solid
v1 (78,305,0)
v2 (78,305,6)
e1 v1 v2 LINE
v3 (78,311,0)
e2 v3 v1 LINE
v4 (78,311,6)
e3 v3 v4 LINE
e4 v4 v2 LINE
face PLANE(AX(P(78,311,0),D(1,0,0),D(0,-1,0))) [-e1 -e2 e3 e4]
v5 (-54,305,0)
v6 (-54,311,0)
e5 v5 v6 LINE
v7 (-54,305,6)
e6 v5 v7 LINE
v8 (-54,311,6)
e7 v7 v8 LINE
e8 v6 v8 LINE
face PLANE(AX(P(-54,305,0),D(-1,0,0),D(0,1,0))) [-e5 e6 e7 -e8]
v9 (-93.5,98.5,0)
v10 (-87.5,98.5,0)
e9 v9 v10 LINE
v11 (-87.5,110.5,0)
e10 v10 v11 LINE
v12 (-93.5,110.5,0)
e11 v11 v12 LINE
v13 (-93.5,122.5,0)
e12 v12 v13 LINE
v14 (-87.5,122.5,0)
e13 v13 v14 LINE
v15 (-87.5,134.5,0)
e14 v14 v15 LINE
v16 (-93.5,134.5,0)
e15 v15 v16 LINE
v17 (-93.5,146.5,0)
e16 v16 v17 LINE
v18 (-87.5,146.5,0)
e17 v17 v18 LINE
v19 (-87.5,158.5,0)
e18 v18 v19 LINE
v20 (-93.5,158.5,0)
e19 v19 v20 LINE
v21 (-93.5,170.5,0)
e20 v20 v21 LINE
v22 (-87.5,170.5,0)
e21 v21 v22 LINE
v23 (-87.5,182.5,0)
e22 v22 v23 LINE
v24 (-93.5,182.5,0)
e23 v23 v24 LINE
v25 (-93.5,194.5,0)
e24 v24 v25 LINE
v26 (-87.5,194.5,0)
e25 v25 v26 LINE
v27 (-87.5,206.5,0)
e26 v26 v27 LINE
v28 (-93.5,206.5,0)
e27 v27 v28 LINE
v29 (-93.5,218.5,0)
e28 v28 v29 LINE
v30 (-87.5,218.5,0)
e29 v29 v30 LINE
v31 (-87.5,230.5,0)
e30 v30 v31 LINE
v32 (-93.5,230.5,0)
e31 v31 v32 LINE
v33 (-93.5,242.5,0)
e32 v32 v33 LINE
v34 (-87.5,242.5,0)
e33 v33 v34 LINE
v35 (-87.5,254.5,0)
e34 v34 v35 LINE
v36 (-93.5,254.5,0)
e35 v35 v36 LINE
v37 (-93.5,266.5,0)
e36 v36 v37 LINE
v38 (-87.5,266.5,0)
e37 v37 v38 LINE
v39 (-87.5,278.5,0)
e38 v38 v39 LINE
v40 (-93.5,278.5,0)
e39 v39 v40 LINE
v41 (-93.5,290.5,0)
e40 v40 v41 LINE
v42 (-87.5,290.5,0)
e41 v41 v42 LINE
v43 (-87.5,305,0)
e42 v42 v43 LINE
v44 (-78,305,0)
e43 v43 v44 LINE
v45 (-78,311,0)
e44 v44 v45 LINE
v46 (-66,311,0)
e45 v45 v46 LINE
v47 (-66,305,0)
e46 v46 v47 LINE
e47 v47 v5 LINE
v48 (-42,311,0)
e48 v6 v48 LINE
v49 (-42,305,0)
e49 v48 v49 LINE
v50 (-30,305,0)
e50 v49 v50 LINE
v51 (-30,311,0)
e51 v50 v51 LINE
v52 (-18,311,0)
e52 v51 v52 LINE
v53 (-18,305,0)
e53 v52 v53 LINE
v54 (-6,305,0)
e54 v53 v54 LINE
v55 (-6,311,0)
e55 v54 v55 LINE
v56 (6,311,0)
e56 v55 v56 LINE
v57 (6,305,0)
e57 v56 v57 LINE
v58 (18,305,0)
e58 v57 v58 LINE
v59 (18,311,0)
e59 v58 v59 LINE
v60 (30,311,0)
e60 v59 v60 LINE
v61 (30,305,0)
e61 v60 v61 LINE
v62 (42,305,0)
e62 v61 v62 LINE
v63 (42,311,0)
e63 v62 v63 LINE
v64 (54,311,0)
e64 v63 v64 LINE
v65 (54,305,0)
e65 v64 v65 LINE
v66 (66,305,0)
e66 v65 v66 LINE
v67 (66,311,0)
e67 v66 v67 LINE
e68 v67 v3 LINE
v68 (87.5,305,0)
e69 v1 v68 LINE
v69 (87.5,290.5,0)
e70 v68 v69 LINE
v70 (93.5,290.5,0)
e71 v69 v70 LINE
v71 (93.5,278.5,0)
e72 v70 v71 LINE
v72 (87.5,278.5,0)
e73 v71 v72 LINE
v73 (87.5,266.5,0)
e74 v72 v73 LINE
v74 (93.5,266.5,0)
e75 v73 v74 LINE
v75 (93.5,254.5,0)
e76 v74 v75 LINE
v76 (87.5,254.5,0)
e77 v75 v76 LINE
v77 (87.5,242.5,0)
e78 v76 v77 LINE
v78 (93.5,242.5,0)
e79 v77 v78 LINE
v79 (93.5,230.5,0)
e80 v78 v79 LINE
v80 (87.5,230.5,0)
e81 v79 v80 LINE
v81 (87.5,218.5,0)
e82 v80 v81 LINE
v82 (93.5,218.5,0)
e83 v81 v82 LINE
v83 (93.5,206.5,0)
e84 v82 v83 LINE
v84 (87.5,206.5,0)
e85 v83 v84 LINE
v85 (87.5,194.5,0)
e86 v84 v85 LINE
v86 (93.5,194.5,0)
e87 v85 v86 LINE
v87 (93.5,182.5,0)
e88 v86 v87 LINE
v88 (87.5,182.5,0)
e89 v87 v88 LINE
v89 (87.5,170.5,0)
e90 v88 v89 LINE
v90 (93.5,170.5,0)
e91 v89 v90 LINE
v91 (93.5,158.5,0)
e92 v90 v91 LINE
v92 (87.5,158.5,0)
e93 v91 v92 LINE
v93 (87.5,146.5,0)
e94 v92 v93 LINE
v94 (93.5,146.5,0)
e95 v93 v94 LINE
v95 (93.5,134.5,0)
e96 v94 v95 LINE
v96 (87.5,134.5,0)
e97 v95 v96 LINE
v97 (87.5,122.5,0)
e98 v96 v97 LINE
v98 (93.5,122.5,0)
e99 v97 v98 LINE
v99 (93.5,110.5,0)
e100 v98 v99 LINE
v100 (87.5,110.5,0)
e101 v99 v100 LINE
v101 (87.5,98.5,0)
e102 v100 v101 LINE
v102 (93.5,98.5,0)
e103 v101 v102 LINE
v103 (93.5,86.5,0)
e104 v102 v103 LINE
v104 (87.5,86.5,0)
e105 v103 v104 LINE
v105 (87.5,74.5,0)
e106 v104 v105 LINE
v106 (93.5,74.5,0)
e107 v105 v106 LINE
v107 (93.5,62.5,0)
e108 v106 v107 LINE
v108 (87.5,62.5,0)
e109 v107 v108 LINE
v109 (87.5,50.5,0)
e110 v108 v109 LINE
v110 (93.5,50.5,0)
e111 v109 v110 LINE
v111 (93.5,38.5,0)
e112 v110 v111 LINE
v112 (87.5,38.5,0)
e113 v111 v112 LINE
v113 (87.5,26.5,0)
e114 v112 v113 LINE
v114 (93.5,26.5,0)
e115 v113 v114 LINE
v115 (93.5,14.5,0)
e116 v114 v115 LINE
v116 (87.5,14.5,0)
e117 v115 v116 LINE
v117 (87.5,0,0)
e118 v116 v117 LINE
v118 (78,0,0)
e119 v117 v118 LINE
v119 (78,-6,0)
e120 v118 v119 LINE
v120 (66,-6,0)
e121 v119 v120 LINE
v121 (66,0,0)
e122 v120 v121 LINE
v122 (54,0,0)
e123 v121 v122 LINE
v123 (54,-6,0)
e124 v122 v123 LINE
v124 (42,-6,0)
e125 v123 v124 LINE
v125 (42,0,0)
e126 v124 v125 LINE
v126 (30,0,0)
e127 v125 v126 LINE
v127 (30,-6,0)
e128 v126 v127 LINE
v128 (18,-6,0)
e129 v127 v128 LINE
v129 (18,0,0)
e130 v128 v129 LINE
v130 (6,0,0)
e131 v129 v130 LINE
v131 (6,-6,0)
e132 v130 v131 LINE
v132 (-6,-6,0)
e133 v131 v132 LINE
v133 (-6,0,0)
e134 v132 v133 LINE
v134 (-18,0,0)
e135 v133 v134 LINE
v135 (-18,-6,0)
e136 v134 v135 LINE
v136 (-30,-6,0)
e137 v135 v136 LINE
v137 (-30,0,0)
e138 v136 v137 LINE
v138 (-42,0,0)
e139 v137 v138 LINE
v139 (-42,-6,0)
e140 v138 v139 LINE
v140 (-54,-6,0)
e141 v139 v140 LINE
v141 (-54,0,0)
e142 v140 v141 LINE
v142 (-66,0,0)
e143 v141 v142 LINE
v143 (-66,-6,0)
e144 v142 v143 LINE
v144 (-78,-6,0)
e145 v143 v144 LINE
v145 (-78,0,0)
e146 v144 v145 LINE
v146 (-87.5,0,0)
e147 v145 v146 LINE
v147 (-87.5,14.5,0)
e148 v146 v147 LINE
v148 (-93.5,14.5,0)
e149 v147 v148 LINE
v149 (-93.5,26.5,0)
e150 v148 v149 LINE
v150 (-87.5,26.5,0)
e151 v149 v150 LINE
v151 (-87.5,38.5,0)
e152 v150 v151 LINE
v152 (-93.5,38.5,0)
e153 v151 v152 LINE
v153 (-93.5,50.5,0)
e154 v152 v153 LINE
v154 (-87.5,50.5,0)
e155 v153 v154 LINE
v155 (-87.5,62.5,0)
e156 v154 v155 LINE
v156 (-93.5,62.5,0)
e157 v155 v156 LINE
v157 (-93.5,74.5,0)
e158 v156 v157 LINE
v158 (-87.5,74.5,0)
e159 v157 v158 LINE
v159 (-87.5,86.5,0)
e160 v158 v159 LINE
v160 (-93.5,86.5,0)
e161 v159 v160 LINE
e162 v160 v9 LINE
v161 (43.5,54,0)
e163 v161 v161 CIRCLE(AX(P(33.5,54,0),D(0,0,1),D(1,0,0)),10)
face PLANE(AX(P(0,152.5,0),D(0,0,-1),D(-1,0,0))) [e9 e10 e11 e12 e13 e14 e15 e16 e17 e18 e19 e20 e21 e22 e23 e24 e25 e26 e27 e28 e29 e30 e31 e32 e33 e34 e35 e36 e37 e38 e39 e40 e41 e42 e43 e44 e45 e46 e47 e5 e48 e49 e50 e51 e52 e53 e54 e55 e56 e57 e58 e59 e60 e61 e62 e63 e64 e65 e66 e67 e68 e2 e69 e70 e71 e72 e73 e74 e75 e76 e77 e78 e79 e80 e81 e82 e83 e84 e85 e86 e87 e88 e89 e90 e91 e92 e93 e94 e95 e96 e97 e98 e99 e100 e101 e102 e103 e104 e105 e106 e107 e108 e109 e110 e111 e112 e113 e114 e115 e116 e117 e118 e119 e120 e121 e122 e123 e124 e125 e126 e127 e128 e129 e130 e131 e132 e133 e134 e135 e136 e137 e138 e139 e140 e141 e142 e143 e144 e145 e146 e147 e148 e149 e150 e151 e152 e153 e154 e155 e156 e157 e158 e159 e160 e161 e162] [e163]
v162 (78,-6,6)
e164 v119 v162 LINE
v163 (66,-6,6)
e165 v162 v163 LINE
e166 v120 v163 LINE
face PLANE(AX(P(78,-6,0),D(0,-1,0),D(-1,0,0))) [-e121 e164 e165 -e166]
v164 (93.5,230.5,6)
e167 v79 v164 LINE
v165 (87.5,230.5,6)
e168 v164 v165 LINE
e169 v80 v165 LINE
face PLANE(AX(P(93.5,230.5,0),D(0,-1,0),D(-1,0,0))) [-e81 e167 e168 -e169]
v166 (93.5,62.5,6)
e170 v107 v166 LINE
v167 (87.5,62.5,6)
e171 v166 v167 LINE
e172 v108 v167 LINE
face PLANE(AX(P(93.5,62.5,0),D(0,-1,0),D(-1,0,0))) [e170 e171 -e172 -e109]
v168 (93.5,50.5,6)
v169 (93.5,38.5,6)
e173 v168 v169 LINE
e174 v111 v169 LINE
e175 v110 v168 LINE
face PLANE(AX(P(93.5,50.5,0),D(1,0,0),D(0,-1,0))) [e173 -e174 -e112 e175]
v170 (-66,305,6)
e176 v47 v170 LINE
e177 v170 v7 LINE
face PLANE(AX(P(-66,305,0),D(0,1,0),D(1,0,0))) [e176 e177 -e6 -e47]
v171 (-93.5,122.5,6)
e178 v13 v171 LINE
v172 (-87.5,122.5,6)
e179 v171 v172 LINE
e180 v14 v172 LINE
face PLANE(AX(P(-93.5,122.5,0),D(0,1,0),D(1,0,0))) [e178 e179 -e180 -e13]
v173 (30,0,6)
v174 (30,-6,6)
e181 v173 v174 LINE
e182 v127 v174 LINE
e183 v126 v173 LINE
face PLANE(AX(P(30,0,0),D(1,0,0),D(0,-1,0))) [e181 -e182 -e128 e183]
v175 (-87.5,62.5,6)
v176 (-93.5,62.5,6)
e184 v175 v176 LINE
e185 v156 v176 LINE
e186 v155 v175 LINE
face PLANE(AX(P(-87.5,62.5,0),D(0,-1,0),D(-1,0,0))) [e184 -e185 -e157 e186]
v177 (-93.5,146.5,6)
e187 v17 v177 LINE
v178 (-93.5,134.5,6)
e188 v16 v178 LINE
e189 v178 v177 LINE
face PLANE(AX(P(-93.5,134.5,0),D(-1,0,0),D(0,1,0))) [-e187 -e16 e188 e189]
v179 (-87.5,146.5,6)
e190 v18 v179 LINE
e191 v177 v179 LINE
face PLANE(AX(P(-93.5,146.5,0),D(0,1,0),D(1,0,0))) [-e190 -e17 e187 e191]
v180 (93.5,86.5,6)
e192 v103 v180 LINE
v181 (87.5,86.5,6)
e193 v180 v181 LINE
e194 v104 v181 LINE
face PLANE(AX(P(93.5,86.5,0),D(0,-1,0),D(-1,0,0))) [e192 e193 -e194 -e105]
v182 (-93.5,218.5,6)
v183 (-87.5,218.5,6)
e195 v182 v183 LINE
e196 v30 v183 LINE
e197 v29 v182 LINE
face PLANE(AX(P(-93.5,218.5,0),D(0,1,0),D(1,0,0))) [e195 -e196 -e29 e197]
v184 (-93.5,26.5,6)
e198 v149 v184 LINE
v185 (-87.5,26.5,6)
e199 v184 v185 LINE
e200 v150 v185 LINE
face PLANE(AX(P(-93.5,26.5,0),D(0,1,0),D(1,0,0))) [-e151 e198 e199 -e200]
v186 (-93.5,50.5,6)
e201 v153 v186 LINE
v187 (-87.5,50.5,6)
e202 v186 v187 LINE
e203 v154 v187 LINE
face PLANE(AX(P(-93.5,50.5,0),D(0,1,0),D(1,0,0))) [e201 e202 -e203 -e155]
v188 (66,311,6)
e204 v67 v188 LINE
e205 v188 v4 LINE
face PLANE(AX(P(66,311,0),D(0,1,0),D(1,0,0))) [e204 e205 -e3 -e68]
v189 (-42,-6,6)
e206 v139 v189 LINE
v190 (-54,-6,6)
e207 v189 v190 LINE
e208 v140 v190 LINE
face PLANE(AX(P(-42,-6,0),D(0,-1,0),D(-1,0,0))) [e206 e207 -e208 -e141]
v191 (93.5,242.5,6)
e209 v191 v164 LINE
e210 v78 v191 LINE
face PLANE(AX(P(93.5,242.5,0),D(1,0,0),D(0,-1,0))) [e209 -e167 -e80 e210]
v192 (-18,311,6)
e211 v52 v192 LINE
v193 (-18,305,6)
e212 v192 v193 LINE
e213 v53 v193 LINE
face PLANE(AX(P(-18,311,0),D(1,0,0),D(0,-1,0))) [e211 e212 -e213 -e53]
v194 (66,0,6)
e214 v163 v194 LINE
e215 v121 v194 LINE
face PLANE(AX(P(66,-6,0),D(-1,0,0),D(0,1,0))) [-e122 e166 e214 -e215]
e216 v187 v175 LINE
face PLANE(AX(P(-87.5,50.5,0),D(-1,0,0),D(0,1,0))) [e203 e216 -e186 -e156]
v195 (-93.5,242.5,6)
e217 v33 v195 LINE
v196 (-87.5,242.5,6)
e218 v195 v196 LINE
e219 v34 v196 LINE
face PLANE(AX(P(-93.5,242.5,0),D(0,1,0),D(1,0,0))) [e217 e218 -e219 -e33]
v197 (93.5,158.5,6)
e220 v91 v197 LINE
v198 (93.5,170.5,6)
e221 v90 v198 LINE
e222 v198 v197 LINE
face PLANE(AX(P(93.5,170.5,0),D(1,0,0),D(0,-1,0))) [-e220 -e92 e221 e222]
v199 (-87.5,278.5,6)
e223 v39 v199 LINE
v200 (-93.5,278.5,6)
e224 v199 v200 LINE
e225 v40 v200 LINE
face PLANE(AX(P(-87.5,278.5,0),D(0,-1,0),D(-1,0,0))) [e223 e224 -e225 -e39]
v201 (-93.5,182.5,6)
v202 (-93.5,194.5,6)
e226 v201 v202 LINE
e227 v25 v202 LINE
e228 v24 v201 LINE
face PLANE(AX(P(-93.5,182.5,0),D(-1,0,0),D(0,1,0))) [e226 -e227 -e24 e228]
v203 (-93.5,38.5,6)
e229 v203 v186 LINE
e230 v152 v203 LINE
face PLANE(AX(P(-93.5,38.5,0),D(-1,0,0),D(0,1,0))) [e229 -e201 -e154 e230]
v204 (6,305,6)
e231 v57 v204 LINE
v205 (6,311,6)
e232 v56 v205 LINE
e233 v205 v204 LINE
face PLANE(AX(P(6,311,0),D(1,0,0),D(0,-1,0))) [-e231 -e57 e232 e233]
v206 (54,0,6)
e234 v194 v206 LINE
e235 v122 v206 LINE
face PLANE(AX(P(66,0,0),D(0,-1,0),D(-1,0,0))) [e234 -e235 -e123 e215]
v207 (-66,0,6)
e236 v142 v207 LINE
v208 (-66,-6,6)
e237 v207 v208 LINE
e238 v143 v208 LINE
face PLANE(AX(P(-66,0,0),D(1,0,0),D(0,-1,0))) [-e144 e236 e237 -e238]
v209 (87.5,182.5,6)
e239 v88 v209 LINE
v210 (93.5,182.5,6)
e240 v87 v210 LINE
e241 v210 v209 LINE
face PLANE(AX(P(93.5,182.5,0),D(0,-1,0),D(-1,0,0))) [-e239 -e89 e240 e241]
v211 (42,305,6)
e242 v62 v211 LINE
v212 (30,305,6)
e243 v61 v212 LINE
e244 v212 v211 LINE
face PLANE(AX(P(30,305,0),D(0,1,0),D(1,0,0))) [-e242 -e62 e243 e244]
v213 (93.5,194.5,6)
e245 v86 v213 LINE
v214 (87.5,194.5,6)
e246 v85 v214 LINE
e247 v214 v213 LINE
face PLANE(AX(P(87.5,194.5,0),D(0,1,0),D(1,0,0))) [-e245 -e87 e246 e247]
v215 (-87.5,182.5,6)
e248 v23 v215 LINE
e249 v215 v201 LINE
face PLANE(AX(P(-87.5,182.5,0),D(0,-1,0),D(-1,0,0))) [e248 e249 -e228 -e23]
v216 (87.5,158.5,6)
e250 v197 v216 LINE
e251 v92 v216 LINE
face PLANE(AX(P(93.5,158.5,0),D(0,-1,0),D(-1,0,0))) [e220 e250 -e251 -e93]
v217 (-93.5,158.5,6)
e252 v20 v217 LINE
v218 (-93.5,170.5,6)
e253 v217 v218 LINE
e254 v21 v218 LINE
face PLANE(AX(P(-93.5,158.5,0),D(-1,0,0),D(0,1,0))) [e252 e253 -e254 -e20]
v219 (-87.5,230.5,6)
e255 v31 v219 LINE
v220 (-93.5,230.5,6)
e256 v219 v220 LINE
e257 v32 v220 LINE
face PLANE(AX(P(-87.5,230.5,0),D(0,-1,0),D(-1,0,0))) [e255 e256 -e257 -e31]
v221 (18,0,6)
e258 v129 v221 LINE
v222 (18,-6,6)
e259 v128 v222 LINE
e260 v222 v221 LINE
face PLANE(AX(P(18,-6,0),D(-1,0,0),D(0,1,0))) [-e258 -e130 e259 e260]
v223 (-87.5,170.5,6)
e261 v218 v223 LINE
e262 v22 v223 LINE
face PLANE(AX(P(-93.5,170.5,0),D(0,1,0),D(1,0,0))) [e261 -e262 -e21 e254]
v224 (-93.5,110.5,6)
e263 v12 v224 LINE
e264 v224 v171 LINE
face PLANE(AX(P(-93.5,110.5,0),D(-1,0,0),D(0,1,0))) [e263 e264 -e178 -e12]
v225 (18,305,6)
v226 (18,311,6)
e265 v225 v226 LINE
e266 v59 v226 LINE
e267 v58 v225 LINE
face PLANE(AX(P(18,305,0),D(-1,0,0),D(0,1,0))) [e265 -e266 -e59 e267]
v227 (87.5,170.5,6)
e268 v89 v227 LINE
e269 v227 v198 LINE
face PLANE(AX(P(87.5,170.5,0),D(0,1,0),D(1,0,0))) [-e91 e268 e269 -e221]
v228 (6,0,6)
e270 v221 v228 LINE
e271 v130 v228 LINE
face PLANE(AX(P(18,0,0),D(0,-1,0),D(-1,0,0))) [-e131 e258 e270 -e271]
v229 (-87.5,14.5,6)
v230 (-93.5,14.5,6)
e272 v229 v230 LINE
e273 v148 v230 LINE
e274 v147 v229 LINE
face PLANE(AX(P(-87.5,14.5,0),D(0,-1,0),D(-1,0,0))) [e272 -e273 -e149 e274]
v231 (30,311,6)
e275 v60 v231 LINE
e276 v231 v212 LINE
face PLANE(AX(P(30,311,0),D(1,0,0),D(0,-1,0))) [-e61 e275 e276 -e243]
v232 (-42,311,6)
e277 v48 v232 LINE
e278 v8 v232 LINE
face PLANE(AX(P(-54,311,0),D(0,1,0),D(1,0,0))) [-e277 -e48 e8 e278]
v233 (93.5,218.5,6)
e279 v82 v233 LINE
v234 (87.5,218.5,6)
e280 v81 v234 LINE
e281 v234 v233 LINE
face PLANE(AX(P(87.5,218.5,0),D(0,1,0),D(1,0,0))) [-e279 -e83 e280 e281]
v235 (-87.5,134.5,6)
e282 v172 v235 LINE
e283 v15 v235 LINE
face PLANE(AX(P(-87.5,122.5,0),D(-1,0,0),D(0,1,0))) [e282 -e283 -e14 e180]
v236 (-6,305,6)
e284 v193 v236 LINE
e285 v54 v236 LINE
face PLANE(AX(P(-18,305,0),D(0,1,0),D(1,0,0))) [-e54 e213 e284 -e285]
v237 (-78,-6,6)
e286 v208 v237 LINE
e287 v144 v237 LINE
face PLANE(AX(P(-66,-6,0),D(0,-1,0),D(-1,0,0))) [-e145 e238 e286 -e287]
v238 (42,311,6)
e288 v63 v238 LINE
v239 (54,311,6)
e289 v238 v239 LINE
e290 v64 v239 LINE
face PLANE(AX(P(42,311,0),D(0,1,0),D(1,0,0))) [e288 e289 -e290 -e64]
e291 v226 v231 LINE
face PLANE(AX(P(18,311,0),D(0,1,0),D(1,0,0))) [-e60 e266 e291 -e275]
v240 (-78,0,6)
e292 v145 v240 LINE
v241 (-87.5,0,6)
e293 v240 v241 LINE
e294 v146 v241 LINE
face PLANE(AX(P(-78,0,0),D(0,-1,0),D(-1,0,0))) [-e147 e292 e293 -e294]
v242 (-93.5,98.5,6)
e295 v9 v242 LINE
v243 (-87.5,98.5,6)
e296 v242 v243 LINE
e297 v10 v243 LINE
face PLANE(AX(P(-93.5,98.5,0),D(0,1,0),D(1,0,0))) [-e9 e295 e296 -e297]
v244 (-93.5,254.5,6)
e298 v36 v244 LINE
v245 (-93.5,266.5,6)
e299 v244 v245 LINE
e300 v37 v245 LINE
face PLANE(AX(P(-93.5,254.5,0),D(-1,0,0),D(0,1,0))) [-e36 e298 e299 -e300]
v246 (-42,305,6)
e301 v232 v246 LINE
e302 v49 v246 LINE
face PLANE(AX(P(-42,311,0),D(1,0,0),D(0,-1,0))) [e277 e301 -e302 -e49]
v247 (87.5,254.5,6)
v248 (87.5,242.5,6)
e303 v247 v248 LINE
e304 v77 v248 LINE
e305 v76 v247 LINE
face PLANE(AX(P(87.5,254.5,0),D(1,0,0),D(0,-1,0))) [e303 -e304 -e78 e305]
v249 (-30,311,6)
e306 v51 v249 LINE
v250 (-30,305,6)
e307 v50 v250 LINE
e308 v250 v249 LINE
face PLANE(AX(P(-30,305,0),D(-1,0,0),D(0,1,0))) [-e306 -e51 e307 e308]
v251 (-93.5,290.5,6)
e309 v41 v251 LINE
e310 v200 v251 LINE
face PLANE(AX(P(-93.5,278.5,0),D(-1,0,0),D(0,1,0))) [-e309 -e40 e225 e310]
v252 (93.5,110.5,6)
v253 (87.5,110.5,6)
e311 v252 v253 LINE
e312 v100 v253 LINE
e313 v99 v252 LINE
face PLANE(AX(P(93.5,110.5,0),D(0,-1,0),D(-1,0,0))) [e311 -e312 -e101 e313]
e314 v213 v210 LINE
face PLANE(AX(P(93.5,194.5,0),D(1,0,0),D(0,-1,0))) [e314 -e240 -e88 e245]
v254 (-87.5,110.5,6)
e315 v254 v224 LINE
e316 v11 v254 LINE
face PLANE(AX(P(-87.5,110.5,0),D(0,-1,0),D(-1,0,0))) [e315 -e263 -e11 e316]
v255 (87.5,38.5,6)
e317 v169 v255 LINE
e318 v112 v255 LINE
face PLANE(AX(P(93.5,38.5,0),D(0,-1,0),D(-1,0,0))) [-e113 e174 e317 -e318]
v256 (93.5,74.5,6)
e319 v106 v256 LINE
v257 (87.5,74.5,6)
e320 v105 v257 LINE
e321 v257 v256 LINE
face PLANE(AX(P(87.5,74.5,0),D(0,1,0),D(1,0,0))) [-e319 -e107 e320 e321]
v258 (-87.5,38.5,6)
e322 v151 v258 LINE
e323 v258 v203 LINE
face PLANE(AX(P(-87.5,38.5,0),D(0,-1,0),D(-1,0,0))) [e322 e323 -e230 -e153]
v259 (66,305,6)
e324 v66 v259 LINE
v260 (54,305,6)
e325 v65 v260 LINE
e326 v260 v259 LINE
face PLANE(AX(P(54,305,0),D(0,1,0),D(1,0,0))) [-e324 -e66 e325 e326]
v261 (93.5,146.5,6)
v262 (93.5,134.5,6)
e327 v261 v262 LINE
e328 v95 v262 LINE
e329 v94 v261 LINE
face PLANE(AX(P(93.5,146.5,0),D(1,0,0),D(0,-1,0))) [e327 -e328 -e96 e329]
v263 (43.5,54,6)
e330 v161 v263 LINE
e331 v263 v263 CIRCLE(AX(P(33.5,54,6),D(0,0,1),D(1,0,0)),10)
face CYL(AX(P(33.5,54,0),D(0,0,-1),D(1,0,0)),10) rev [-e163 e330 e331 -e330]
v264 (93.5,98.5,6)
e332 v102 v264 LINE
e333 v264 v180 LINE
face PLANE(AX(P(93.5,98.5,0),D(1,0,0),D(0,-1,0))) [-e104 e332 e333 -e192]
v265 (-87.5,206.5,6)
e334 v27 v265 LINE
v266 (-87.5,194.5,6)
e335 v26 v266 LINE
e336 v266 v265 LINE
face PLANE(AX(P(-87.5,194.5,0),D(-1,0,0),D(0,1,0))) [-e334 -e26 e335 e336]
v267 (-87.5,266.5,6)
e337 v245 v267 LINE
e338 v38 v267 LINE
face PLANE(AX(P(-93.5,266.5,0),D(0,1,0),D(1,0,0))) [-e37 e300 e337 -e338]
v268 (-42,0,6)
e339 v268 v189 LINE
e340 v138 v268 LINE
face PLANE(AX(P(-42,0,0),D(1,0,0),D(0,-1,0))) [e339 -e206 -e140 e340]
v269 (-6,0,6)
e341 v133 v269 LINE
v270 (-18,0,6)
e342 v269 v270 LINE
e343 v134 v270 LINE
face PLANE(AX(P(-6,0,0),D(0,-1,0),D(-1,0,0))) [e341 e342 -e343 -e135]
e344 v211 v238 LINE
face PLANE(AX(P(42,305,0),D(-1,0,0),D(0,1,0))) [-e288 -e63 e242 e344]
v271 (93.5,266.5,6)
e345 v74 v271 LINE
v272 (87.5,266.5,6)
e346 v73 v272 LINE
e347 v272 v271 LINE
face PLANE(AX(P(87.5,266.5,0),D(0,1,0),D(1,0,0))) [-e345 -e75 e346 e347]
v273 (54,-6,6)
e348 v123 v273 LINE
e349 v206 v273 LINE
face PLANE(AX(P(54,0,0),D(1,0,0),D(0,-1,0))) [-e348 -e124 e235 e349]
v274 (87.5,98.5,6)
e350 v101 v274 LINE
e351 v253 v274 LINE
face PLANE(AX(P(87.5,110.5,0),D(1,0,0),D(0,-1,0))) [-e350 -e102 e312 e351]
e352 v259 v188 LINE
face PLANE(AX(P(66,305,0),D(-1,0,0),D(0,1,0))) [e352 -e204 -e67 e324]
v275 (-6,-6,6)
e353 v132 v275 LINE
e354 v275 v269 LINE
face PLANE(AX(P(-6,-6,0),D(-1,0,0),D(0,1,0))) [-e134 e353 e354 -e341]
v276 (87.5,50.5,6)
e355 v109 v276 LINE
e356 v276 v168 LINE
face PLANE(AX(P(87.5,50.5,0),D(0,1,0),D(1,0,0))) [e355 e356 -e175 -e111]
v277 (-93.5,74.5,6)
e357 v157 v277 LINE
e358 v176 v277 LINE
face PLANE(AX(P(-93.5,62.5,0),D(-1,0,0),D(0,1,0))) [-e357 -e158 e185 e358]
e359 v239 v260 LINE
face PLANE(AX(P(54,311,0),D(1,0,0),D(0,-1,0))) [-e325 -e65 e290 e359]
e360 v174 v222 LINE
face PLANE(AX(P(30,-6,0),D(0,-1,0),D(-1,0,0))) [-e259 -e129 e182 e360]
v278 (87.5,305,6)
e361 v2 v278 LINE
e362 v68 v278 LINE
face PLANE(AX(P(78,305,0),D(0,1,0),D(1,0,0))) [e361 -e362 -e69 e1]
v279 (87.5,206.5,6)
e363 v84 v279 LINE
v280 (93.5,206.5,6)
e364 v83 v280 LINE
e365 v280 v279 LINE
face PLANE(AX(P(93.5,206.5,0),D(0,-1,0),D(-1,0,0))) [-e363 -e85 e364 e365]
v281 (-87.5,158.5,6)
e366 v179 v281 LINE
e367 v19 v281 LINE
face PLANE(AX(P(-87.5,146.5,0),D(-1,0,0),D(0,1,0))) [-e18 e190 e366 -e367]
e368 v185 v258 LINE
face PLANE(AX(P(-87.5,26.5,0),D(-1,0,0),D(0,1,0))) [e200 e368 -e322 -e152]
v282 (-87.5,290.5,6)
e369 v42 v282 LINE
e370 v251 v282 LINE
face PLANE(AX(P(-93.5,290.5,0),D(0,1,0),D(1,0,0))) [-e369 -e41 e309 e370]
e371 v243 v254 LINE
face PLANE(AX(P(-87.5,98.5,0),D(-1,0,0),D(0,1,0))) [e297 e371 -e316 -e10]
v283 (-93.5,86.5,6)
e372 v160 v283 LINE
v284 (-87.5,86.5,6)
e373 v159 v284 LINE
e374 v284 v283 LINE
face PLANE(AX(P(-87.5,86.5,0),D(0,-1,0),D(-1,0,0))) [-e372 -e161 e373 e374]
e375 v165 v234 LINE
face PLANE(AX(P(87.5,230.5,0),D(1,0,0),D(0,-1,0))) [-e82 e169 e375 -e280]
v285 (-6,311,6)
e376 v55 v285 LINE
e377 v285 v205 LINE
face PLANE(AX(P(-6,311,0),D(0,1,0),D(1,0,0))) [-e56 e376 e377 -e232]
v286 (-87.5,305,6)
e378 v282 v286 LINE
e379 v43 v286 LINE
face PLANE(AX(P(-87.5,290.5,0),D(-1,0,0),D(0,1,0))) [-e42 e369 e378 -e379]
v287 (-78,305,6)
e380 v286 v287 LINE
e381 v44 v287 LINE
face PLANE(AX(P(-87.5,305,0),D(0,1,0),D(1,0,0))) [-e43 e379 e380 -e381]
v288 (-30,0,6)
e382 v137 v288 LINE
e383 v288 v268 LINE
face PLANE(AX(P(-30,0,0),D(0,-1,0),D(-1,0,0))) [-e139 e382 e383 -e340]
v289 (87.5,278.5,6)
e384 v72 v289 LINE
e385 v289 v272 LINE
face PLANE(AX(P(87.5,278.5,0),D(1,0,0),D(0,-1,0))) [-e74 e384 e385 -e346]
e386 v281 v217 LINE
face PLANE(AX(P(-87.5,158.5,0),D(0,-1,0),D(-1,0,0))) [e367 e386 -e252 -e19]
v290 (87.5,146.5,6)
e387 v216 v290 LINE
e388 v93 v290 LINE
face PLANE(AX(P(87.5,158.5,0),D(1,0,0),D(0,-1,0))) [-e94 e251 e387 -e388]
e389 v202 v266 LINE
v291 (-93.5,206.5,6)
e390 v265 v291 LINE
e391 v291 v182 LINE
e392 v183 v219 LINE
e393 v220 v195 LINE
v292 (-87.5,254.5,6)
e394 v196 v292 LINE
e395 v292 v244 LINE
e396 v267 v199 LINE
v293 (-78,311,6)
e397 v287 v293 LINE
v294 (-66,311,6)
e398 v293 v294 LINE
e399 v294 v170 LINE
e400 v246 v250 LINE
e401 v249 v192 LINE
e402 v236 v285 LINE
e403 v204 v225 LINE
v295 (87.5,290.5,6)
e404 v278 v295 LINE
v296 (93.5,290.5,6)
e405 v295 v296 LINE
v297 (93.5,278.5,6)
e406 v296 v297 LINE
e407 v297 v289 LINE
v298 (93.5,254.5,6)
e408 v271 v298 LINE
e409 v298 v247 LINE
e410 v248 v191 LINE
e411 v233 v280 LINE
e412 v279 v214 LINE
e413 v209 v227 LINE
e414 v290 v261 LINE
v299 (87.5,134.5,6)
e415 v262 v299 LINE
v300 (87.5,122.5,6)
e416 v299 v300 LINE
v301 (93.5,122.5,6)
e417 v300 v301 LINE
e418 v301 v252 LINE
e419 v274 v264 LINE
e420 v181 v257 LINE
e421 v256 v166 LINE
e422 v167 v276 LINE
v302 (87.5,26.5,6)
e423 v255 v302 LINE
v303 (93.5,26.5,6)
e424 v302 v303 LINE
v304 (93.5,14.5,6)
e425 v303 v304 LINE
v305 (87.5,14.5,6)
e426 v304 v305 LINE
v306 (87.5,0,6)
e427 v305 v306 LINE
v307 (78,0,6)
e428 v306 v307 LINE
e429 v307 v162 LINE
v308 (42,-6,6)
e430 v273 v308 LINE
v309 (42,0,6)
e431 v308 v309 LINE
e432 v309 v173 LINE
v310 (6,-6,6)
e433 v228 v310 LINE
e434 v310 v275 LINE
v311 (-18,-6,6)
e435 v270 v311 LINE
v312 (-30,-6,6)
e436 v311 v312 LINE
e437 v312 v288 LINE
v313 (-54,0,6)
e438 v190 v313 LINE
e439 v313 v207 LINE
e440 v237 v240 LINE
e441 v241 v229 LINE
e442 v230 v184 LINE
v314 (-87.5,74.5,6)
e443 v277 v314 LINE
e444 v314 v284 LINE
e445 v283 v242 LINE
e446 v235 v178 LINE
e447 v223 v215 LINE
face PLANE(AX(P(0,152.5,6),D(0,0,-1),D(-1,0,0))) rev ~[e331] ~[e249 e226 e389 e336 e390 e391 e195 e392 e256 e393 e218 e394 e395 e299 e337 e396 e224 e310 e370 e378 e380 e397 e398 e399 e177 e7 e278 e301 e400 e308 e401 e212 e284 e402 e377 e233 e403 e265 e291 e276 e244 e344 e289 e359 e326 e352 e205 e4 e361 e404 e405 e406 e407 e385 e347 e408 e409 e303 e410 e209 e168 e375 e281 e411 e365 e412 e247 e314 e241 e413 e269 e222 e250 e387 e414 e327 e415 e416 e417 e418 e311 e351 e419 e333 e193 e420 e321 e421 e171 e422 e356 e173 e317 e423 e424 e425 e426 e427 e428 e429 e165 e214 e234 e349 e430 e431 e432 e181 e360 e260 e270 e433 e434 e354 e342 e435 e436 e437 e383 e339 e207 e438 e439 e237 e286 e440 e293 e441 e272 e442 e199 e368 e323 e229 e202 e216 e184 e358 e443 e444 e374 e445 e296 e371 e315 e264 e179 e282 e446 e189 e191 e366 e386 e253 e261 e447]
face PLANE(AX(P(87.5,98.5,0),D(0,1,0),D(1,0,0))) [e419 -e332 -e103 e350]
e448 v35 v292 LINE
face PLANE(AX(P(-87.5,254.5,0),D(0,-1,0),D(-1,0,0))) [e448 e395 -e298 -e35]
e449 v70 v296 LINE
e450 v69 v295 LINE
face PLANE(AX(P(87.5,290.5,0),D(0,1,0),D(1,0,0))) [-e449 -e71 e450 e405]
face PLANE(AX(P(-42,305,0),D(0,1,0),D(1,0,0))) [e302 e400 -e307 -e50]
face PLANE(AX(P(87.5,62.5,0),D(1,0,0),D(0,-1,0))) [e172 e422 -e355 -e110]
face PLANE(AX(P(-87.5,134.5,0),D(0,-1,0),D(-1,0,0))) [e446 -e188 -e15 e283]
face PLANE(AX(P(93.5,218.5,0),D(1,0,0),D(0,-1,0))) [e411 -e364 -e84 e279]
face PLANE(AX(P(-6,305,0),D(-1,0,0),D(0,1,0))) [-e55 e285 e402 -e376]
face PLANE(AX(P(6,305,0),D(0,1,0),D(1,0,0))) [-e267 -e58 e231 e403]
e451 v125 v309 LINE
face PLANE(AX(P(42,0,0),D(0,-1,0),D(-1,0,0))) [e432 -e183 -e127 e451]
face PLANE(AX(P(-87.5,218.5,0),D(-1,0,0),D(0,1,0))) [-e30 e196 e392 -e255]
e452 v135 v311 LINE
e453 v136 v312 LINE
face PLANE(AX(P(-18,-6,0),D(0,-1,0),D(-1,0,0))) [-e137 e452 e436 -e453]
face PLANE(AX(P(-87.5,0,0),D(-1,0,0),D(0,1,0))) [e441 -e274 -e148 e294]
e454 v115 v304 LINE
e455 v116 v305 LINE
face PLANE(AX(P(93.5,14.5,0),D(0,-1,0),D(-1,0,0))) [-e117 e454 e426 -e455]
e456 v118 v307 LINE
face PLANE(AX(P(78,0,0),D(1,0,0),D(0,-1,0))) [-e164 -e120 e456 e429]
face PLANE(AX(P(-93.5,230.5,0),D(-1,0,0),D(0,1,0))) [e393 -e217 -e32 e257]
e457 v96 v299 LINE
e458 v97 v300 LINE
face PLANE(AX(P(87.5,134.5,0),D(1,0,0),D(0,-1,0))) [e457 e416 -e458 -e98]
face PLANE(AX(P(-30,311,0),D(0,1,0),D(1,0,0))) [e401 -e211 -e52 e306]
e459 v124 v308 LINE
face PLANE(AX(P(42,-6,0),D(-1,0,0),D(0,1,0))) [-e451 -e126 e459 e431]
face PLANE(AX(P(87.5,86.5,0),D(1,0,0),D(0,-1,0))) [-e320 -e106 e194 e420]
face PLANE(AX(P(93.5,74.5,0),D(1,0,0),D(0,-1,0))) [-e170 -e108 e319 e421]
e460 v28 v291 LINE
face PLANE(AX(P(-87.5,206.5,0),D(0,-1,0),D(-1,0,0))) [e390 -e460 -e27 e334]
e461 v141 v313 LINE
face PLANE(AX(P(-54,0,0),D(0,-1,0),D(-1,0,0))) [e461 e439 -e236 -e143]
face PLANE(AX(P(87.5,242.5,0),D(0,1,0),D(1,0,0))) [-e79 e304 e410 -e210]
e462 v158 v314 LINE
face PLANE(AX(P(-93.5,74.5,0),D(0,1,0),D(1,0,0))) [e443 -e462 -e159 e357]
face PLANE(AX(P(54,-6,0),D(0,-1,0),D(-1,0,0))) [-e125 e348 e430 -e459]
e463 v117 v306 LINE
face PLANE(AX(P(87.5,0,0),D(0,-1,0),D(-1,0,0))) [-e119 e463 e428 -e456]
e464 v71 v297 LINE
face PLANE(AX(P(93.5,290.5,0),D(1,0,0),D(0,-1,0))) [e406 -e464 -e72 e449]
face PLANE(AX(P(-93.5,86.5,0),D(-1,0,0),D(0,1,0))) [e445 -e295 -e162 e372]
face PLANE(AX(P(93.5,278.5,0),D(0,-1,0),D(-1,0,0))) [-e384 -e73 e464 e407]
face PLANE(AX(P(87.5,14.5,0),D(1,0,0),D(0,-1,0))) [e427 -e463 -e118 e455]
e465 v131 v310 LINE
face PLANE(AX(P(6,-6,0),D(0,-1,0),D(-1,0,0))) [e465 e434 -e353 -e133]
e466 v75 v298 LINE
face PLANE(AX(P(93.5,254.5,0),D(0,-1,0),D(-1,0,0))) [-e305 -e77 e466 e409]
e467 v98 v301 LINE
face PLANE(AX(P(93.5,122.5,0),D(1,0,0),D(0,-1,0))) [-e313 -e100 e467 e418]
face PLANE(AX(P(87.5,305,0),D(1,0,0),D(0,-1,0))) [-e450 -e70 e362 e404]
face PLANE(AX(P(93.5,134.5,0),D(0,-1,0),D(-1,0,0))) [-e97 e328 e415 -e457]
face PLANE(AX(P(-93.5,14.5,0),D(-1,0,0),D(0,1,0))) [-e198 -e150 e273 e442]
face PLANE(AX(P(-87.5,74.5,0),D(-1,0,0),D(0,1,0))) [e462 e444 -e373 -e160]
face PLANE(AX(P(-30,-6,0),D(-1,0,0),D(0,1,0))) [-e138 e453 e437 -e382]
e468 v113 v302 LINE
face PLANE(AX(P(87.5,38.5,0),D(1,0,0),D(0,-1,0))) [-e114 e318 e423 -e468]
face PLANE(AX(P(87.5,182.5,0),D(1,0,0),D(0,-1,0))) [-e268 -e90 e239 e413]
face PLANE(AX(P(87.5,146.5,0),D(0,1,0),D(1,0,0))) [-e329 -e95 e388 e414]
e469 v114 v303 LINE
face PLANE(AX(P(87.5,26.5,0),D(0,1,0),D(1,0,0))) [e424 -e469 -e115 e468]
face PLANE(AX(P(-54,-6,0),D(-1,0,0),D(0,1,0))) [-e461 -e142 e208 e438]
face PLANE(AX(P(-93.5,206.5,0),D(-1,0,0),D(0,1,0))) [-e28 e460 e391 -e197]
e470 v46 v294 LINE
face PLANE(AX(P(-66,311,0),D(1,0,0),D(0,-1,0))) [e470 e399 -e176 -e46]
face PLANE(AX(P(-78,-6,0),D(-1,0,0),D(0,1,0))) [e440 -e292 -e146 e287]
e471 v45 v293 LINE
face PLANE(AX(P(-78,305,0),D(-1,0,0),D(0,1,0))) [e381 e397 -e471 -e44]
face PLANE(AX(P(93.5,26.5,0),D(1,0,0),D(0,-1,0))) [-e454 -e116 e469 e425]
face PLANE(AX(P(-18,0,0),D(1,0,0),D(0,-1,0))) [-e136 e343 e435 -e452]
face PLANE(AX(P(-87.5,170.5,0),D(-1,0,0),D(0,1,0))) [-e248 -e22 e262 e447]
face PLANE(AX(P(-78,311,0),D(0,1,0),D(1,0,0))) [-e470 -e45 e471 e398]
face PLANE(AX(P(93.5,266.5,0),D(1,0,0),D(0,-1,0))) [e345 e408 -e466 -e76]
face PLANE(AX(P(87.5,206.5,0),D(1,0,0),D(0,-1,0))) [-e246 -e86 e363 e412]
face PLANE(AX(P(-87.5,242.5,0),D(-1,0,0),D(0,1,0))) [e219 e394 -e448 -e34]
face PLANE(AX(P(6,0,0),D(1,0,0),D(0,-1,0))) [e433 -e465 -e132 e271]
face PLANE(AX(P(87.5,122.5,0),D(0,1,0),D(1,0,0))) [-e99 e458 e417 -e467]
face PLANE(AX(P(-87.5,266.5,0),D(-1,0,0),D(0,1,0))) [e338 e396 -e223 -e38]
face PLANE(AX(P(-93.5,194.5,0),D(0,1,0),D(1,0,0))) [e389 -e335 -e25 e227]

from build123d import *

# Parameters (mm, degrees)
SKETCH1_R           = 10
BOSS_EXTRUDE1_DEPTH = 6


with BuildPart() as part:
    # Sketch1 → Boss-Extrude1 (new body)
    with BuildSketch(Plane.XY):
        Polygon((78, 0), (78, -6), (66, -6), (66, 0), (54, 0), (54, -6), (42, -6), (42, 0), (30, 0), (30, -6), (18, -6), (18, 0), (6, 0), (6, -6), (-6, -6), (-6, 0), (-18, 0), (-18, -6), (-30, -6), (-30, 0), (-42, 0), (-42, -6), (-54, -6), (-54, 0), (-66, 0), (-66, -6), (-78, -6), (-78, 0), (-87.5, 0), (-87.5, 14.5), (-93.5, 14.5), (-93.5, 26.5), (-87.5, 26.5), (-87.5, 38.5), (-93.5, 38.5), (-93.5, 50.5), (-87.5, 50.5), (-87.5, 62.5), (-93.5, 62.5), (-93.5, 74.5), (-87.5, 74.5), (-87.5, 86.5), (-93.5, 86.5), (-93.5, 98.5), (-87.5, 98.5), (-87.5, 110.5), (-93.5, 110.5), (-93.5, 122.5), (-87.5, 122.5), (-87.5, 134.5), (-93.5, 134.5), (-93.5, 146.5), (-87.5, 146.5), (-87.5, 158.5), (-93.5, 158.5), (-93.5, 170.5), (-87.5, 170.5), (-87.5, 182.5), (-93.5, 182.5), (-93.5, 194.5), (-87.5, 194.5), (-87.5, 206.5), (-93.5, 206.5), (-93.5, 218.5), (-87.5, 218.5), (-87.5, 230.5), (-93.5, 230.5), (-93.5, 242.5), (-87.5, 242.5), (-87.5, 254.5), (-93.5, 254.5), (-93.5, 266.5), (-87.5, 266.5), (-87.5, 278.5), (-93.5, 278.5), (-93.5, 290.5), (-87.5, 290.5), (-87.5, 305), (-78, 305), (-78, 311), (-66, 311), (-66, 305), (-54, 305), (-54, 311), (-42, 311), (-42, 305), (-30, 305), (-30, 311), (-18, 311), (-18, 305), (-6, 305), (-6, 311), (6, 311), (6, 305), (18, 305), (18, 311), (30, 311), (30, 305), (42, 305), (42, 311), (54, 311), (54, 305), (66, 305), (66, 311), (78, 311), (78, 305), (87.5, 305), (87.5, 290.5), (93.5, 290.5), (93.5, 278.5), (87.5, 278.5), (87.5, 266.5), (93.5, 266.5), (93.5, 254.5), (87.5, 254.5), (87.5, 242.5), (93.5, 242.5), (93.5, 230.5), (87.5, 230.5), (87.5, 218.5), (93.5, 218.5), (93.5, 206.5), (87.5, 206.5), (87.5, 194.5), (93.5, 194.5), (93.5, 182.5), (87.5, 182.5), (87.5, 170.5), (93.5, 170.5), (93.5, 158.5), (87.5, 158.5), (87.5, 146.5), (93.5, 146.5), (93.5, 134.5), (87.5, 134.5), (87.5, 122.5), (93.5, 122.5), (93.5, 110.5), (87.5, 110.5), (87.5, 98.5), (93.5, 98.5), (93.5, 86.5), (87.5, 86.5), (87.5, 74.5), (93.5, 74.5), (93.5, 62.5), (87.5, 62.5), (87.5, 50.5), (93.5, 50.5), (93.5, 38.5), (87.5, 38.5), (87.5, 26.5), (93.5, 26.5), (93.5, 14.5), (87.5, 14.5), (87.5, 0), align=None)
        with Locations((33.5, 54)):
            Circle(SKETCH1_R, mode=Mode.SUBTRACT)
    extrude(amount=BOSS_EXTRUDE1_DEPTH)


solid = part.part
